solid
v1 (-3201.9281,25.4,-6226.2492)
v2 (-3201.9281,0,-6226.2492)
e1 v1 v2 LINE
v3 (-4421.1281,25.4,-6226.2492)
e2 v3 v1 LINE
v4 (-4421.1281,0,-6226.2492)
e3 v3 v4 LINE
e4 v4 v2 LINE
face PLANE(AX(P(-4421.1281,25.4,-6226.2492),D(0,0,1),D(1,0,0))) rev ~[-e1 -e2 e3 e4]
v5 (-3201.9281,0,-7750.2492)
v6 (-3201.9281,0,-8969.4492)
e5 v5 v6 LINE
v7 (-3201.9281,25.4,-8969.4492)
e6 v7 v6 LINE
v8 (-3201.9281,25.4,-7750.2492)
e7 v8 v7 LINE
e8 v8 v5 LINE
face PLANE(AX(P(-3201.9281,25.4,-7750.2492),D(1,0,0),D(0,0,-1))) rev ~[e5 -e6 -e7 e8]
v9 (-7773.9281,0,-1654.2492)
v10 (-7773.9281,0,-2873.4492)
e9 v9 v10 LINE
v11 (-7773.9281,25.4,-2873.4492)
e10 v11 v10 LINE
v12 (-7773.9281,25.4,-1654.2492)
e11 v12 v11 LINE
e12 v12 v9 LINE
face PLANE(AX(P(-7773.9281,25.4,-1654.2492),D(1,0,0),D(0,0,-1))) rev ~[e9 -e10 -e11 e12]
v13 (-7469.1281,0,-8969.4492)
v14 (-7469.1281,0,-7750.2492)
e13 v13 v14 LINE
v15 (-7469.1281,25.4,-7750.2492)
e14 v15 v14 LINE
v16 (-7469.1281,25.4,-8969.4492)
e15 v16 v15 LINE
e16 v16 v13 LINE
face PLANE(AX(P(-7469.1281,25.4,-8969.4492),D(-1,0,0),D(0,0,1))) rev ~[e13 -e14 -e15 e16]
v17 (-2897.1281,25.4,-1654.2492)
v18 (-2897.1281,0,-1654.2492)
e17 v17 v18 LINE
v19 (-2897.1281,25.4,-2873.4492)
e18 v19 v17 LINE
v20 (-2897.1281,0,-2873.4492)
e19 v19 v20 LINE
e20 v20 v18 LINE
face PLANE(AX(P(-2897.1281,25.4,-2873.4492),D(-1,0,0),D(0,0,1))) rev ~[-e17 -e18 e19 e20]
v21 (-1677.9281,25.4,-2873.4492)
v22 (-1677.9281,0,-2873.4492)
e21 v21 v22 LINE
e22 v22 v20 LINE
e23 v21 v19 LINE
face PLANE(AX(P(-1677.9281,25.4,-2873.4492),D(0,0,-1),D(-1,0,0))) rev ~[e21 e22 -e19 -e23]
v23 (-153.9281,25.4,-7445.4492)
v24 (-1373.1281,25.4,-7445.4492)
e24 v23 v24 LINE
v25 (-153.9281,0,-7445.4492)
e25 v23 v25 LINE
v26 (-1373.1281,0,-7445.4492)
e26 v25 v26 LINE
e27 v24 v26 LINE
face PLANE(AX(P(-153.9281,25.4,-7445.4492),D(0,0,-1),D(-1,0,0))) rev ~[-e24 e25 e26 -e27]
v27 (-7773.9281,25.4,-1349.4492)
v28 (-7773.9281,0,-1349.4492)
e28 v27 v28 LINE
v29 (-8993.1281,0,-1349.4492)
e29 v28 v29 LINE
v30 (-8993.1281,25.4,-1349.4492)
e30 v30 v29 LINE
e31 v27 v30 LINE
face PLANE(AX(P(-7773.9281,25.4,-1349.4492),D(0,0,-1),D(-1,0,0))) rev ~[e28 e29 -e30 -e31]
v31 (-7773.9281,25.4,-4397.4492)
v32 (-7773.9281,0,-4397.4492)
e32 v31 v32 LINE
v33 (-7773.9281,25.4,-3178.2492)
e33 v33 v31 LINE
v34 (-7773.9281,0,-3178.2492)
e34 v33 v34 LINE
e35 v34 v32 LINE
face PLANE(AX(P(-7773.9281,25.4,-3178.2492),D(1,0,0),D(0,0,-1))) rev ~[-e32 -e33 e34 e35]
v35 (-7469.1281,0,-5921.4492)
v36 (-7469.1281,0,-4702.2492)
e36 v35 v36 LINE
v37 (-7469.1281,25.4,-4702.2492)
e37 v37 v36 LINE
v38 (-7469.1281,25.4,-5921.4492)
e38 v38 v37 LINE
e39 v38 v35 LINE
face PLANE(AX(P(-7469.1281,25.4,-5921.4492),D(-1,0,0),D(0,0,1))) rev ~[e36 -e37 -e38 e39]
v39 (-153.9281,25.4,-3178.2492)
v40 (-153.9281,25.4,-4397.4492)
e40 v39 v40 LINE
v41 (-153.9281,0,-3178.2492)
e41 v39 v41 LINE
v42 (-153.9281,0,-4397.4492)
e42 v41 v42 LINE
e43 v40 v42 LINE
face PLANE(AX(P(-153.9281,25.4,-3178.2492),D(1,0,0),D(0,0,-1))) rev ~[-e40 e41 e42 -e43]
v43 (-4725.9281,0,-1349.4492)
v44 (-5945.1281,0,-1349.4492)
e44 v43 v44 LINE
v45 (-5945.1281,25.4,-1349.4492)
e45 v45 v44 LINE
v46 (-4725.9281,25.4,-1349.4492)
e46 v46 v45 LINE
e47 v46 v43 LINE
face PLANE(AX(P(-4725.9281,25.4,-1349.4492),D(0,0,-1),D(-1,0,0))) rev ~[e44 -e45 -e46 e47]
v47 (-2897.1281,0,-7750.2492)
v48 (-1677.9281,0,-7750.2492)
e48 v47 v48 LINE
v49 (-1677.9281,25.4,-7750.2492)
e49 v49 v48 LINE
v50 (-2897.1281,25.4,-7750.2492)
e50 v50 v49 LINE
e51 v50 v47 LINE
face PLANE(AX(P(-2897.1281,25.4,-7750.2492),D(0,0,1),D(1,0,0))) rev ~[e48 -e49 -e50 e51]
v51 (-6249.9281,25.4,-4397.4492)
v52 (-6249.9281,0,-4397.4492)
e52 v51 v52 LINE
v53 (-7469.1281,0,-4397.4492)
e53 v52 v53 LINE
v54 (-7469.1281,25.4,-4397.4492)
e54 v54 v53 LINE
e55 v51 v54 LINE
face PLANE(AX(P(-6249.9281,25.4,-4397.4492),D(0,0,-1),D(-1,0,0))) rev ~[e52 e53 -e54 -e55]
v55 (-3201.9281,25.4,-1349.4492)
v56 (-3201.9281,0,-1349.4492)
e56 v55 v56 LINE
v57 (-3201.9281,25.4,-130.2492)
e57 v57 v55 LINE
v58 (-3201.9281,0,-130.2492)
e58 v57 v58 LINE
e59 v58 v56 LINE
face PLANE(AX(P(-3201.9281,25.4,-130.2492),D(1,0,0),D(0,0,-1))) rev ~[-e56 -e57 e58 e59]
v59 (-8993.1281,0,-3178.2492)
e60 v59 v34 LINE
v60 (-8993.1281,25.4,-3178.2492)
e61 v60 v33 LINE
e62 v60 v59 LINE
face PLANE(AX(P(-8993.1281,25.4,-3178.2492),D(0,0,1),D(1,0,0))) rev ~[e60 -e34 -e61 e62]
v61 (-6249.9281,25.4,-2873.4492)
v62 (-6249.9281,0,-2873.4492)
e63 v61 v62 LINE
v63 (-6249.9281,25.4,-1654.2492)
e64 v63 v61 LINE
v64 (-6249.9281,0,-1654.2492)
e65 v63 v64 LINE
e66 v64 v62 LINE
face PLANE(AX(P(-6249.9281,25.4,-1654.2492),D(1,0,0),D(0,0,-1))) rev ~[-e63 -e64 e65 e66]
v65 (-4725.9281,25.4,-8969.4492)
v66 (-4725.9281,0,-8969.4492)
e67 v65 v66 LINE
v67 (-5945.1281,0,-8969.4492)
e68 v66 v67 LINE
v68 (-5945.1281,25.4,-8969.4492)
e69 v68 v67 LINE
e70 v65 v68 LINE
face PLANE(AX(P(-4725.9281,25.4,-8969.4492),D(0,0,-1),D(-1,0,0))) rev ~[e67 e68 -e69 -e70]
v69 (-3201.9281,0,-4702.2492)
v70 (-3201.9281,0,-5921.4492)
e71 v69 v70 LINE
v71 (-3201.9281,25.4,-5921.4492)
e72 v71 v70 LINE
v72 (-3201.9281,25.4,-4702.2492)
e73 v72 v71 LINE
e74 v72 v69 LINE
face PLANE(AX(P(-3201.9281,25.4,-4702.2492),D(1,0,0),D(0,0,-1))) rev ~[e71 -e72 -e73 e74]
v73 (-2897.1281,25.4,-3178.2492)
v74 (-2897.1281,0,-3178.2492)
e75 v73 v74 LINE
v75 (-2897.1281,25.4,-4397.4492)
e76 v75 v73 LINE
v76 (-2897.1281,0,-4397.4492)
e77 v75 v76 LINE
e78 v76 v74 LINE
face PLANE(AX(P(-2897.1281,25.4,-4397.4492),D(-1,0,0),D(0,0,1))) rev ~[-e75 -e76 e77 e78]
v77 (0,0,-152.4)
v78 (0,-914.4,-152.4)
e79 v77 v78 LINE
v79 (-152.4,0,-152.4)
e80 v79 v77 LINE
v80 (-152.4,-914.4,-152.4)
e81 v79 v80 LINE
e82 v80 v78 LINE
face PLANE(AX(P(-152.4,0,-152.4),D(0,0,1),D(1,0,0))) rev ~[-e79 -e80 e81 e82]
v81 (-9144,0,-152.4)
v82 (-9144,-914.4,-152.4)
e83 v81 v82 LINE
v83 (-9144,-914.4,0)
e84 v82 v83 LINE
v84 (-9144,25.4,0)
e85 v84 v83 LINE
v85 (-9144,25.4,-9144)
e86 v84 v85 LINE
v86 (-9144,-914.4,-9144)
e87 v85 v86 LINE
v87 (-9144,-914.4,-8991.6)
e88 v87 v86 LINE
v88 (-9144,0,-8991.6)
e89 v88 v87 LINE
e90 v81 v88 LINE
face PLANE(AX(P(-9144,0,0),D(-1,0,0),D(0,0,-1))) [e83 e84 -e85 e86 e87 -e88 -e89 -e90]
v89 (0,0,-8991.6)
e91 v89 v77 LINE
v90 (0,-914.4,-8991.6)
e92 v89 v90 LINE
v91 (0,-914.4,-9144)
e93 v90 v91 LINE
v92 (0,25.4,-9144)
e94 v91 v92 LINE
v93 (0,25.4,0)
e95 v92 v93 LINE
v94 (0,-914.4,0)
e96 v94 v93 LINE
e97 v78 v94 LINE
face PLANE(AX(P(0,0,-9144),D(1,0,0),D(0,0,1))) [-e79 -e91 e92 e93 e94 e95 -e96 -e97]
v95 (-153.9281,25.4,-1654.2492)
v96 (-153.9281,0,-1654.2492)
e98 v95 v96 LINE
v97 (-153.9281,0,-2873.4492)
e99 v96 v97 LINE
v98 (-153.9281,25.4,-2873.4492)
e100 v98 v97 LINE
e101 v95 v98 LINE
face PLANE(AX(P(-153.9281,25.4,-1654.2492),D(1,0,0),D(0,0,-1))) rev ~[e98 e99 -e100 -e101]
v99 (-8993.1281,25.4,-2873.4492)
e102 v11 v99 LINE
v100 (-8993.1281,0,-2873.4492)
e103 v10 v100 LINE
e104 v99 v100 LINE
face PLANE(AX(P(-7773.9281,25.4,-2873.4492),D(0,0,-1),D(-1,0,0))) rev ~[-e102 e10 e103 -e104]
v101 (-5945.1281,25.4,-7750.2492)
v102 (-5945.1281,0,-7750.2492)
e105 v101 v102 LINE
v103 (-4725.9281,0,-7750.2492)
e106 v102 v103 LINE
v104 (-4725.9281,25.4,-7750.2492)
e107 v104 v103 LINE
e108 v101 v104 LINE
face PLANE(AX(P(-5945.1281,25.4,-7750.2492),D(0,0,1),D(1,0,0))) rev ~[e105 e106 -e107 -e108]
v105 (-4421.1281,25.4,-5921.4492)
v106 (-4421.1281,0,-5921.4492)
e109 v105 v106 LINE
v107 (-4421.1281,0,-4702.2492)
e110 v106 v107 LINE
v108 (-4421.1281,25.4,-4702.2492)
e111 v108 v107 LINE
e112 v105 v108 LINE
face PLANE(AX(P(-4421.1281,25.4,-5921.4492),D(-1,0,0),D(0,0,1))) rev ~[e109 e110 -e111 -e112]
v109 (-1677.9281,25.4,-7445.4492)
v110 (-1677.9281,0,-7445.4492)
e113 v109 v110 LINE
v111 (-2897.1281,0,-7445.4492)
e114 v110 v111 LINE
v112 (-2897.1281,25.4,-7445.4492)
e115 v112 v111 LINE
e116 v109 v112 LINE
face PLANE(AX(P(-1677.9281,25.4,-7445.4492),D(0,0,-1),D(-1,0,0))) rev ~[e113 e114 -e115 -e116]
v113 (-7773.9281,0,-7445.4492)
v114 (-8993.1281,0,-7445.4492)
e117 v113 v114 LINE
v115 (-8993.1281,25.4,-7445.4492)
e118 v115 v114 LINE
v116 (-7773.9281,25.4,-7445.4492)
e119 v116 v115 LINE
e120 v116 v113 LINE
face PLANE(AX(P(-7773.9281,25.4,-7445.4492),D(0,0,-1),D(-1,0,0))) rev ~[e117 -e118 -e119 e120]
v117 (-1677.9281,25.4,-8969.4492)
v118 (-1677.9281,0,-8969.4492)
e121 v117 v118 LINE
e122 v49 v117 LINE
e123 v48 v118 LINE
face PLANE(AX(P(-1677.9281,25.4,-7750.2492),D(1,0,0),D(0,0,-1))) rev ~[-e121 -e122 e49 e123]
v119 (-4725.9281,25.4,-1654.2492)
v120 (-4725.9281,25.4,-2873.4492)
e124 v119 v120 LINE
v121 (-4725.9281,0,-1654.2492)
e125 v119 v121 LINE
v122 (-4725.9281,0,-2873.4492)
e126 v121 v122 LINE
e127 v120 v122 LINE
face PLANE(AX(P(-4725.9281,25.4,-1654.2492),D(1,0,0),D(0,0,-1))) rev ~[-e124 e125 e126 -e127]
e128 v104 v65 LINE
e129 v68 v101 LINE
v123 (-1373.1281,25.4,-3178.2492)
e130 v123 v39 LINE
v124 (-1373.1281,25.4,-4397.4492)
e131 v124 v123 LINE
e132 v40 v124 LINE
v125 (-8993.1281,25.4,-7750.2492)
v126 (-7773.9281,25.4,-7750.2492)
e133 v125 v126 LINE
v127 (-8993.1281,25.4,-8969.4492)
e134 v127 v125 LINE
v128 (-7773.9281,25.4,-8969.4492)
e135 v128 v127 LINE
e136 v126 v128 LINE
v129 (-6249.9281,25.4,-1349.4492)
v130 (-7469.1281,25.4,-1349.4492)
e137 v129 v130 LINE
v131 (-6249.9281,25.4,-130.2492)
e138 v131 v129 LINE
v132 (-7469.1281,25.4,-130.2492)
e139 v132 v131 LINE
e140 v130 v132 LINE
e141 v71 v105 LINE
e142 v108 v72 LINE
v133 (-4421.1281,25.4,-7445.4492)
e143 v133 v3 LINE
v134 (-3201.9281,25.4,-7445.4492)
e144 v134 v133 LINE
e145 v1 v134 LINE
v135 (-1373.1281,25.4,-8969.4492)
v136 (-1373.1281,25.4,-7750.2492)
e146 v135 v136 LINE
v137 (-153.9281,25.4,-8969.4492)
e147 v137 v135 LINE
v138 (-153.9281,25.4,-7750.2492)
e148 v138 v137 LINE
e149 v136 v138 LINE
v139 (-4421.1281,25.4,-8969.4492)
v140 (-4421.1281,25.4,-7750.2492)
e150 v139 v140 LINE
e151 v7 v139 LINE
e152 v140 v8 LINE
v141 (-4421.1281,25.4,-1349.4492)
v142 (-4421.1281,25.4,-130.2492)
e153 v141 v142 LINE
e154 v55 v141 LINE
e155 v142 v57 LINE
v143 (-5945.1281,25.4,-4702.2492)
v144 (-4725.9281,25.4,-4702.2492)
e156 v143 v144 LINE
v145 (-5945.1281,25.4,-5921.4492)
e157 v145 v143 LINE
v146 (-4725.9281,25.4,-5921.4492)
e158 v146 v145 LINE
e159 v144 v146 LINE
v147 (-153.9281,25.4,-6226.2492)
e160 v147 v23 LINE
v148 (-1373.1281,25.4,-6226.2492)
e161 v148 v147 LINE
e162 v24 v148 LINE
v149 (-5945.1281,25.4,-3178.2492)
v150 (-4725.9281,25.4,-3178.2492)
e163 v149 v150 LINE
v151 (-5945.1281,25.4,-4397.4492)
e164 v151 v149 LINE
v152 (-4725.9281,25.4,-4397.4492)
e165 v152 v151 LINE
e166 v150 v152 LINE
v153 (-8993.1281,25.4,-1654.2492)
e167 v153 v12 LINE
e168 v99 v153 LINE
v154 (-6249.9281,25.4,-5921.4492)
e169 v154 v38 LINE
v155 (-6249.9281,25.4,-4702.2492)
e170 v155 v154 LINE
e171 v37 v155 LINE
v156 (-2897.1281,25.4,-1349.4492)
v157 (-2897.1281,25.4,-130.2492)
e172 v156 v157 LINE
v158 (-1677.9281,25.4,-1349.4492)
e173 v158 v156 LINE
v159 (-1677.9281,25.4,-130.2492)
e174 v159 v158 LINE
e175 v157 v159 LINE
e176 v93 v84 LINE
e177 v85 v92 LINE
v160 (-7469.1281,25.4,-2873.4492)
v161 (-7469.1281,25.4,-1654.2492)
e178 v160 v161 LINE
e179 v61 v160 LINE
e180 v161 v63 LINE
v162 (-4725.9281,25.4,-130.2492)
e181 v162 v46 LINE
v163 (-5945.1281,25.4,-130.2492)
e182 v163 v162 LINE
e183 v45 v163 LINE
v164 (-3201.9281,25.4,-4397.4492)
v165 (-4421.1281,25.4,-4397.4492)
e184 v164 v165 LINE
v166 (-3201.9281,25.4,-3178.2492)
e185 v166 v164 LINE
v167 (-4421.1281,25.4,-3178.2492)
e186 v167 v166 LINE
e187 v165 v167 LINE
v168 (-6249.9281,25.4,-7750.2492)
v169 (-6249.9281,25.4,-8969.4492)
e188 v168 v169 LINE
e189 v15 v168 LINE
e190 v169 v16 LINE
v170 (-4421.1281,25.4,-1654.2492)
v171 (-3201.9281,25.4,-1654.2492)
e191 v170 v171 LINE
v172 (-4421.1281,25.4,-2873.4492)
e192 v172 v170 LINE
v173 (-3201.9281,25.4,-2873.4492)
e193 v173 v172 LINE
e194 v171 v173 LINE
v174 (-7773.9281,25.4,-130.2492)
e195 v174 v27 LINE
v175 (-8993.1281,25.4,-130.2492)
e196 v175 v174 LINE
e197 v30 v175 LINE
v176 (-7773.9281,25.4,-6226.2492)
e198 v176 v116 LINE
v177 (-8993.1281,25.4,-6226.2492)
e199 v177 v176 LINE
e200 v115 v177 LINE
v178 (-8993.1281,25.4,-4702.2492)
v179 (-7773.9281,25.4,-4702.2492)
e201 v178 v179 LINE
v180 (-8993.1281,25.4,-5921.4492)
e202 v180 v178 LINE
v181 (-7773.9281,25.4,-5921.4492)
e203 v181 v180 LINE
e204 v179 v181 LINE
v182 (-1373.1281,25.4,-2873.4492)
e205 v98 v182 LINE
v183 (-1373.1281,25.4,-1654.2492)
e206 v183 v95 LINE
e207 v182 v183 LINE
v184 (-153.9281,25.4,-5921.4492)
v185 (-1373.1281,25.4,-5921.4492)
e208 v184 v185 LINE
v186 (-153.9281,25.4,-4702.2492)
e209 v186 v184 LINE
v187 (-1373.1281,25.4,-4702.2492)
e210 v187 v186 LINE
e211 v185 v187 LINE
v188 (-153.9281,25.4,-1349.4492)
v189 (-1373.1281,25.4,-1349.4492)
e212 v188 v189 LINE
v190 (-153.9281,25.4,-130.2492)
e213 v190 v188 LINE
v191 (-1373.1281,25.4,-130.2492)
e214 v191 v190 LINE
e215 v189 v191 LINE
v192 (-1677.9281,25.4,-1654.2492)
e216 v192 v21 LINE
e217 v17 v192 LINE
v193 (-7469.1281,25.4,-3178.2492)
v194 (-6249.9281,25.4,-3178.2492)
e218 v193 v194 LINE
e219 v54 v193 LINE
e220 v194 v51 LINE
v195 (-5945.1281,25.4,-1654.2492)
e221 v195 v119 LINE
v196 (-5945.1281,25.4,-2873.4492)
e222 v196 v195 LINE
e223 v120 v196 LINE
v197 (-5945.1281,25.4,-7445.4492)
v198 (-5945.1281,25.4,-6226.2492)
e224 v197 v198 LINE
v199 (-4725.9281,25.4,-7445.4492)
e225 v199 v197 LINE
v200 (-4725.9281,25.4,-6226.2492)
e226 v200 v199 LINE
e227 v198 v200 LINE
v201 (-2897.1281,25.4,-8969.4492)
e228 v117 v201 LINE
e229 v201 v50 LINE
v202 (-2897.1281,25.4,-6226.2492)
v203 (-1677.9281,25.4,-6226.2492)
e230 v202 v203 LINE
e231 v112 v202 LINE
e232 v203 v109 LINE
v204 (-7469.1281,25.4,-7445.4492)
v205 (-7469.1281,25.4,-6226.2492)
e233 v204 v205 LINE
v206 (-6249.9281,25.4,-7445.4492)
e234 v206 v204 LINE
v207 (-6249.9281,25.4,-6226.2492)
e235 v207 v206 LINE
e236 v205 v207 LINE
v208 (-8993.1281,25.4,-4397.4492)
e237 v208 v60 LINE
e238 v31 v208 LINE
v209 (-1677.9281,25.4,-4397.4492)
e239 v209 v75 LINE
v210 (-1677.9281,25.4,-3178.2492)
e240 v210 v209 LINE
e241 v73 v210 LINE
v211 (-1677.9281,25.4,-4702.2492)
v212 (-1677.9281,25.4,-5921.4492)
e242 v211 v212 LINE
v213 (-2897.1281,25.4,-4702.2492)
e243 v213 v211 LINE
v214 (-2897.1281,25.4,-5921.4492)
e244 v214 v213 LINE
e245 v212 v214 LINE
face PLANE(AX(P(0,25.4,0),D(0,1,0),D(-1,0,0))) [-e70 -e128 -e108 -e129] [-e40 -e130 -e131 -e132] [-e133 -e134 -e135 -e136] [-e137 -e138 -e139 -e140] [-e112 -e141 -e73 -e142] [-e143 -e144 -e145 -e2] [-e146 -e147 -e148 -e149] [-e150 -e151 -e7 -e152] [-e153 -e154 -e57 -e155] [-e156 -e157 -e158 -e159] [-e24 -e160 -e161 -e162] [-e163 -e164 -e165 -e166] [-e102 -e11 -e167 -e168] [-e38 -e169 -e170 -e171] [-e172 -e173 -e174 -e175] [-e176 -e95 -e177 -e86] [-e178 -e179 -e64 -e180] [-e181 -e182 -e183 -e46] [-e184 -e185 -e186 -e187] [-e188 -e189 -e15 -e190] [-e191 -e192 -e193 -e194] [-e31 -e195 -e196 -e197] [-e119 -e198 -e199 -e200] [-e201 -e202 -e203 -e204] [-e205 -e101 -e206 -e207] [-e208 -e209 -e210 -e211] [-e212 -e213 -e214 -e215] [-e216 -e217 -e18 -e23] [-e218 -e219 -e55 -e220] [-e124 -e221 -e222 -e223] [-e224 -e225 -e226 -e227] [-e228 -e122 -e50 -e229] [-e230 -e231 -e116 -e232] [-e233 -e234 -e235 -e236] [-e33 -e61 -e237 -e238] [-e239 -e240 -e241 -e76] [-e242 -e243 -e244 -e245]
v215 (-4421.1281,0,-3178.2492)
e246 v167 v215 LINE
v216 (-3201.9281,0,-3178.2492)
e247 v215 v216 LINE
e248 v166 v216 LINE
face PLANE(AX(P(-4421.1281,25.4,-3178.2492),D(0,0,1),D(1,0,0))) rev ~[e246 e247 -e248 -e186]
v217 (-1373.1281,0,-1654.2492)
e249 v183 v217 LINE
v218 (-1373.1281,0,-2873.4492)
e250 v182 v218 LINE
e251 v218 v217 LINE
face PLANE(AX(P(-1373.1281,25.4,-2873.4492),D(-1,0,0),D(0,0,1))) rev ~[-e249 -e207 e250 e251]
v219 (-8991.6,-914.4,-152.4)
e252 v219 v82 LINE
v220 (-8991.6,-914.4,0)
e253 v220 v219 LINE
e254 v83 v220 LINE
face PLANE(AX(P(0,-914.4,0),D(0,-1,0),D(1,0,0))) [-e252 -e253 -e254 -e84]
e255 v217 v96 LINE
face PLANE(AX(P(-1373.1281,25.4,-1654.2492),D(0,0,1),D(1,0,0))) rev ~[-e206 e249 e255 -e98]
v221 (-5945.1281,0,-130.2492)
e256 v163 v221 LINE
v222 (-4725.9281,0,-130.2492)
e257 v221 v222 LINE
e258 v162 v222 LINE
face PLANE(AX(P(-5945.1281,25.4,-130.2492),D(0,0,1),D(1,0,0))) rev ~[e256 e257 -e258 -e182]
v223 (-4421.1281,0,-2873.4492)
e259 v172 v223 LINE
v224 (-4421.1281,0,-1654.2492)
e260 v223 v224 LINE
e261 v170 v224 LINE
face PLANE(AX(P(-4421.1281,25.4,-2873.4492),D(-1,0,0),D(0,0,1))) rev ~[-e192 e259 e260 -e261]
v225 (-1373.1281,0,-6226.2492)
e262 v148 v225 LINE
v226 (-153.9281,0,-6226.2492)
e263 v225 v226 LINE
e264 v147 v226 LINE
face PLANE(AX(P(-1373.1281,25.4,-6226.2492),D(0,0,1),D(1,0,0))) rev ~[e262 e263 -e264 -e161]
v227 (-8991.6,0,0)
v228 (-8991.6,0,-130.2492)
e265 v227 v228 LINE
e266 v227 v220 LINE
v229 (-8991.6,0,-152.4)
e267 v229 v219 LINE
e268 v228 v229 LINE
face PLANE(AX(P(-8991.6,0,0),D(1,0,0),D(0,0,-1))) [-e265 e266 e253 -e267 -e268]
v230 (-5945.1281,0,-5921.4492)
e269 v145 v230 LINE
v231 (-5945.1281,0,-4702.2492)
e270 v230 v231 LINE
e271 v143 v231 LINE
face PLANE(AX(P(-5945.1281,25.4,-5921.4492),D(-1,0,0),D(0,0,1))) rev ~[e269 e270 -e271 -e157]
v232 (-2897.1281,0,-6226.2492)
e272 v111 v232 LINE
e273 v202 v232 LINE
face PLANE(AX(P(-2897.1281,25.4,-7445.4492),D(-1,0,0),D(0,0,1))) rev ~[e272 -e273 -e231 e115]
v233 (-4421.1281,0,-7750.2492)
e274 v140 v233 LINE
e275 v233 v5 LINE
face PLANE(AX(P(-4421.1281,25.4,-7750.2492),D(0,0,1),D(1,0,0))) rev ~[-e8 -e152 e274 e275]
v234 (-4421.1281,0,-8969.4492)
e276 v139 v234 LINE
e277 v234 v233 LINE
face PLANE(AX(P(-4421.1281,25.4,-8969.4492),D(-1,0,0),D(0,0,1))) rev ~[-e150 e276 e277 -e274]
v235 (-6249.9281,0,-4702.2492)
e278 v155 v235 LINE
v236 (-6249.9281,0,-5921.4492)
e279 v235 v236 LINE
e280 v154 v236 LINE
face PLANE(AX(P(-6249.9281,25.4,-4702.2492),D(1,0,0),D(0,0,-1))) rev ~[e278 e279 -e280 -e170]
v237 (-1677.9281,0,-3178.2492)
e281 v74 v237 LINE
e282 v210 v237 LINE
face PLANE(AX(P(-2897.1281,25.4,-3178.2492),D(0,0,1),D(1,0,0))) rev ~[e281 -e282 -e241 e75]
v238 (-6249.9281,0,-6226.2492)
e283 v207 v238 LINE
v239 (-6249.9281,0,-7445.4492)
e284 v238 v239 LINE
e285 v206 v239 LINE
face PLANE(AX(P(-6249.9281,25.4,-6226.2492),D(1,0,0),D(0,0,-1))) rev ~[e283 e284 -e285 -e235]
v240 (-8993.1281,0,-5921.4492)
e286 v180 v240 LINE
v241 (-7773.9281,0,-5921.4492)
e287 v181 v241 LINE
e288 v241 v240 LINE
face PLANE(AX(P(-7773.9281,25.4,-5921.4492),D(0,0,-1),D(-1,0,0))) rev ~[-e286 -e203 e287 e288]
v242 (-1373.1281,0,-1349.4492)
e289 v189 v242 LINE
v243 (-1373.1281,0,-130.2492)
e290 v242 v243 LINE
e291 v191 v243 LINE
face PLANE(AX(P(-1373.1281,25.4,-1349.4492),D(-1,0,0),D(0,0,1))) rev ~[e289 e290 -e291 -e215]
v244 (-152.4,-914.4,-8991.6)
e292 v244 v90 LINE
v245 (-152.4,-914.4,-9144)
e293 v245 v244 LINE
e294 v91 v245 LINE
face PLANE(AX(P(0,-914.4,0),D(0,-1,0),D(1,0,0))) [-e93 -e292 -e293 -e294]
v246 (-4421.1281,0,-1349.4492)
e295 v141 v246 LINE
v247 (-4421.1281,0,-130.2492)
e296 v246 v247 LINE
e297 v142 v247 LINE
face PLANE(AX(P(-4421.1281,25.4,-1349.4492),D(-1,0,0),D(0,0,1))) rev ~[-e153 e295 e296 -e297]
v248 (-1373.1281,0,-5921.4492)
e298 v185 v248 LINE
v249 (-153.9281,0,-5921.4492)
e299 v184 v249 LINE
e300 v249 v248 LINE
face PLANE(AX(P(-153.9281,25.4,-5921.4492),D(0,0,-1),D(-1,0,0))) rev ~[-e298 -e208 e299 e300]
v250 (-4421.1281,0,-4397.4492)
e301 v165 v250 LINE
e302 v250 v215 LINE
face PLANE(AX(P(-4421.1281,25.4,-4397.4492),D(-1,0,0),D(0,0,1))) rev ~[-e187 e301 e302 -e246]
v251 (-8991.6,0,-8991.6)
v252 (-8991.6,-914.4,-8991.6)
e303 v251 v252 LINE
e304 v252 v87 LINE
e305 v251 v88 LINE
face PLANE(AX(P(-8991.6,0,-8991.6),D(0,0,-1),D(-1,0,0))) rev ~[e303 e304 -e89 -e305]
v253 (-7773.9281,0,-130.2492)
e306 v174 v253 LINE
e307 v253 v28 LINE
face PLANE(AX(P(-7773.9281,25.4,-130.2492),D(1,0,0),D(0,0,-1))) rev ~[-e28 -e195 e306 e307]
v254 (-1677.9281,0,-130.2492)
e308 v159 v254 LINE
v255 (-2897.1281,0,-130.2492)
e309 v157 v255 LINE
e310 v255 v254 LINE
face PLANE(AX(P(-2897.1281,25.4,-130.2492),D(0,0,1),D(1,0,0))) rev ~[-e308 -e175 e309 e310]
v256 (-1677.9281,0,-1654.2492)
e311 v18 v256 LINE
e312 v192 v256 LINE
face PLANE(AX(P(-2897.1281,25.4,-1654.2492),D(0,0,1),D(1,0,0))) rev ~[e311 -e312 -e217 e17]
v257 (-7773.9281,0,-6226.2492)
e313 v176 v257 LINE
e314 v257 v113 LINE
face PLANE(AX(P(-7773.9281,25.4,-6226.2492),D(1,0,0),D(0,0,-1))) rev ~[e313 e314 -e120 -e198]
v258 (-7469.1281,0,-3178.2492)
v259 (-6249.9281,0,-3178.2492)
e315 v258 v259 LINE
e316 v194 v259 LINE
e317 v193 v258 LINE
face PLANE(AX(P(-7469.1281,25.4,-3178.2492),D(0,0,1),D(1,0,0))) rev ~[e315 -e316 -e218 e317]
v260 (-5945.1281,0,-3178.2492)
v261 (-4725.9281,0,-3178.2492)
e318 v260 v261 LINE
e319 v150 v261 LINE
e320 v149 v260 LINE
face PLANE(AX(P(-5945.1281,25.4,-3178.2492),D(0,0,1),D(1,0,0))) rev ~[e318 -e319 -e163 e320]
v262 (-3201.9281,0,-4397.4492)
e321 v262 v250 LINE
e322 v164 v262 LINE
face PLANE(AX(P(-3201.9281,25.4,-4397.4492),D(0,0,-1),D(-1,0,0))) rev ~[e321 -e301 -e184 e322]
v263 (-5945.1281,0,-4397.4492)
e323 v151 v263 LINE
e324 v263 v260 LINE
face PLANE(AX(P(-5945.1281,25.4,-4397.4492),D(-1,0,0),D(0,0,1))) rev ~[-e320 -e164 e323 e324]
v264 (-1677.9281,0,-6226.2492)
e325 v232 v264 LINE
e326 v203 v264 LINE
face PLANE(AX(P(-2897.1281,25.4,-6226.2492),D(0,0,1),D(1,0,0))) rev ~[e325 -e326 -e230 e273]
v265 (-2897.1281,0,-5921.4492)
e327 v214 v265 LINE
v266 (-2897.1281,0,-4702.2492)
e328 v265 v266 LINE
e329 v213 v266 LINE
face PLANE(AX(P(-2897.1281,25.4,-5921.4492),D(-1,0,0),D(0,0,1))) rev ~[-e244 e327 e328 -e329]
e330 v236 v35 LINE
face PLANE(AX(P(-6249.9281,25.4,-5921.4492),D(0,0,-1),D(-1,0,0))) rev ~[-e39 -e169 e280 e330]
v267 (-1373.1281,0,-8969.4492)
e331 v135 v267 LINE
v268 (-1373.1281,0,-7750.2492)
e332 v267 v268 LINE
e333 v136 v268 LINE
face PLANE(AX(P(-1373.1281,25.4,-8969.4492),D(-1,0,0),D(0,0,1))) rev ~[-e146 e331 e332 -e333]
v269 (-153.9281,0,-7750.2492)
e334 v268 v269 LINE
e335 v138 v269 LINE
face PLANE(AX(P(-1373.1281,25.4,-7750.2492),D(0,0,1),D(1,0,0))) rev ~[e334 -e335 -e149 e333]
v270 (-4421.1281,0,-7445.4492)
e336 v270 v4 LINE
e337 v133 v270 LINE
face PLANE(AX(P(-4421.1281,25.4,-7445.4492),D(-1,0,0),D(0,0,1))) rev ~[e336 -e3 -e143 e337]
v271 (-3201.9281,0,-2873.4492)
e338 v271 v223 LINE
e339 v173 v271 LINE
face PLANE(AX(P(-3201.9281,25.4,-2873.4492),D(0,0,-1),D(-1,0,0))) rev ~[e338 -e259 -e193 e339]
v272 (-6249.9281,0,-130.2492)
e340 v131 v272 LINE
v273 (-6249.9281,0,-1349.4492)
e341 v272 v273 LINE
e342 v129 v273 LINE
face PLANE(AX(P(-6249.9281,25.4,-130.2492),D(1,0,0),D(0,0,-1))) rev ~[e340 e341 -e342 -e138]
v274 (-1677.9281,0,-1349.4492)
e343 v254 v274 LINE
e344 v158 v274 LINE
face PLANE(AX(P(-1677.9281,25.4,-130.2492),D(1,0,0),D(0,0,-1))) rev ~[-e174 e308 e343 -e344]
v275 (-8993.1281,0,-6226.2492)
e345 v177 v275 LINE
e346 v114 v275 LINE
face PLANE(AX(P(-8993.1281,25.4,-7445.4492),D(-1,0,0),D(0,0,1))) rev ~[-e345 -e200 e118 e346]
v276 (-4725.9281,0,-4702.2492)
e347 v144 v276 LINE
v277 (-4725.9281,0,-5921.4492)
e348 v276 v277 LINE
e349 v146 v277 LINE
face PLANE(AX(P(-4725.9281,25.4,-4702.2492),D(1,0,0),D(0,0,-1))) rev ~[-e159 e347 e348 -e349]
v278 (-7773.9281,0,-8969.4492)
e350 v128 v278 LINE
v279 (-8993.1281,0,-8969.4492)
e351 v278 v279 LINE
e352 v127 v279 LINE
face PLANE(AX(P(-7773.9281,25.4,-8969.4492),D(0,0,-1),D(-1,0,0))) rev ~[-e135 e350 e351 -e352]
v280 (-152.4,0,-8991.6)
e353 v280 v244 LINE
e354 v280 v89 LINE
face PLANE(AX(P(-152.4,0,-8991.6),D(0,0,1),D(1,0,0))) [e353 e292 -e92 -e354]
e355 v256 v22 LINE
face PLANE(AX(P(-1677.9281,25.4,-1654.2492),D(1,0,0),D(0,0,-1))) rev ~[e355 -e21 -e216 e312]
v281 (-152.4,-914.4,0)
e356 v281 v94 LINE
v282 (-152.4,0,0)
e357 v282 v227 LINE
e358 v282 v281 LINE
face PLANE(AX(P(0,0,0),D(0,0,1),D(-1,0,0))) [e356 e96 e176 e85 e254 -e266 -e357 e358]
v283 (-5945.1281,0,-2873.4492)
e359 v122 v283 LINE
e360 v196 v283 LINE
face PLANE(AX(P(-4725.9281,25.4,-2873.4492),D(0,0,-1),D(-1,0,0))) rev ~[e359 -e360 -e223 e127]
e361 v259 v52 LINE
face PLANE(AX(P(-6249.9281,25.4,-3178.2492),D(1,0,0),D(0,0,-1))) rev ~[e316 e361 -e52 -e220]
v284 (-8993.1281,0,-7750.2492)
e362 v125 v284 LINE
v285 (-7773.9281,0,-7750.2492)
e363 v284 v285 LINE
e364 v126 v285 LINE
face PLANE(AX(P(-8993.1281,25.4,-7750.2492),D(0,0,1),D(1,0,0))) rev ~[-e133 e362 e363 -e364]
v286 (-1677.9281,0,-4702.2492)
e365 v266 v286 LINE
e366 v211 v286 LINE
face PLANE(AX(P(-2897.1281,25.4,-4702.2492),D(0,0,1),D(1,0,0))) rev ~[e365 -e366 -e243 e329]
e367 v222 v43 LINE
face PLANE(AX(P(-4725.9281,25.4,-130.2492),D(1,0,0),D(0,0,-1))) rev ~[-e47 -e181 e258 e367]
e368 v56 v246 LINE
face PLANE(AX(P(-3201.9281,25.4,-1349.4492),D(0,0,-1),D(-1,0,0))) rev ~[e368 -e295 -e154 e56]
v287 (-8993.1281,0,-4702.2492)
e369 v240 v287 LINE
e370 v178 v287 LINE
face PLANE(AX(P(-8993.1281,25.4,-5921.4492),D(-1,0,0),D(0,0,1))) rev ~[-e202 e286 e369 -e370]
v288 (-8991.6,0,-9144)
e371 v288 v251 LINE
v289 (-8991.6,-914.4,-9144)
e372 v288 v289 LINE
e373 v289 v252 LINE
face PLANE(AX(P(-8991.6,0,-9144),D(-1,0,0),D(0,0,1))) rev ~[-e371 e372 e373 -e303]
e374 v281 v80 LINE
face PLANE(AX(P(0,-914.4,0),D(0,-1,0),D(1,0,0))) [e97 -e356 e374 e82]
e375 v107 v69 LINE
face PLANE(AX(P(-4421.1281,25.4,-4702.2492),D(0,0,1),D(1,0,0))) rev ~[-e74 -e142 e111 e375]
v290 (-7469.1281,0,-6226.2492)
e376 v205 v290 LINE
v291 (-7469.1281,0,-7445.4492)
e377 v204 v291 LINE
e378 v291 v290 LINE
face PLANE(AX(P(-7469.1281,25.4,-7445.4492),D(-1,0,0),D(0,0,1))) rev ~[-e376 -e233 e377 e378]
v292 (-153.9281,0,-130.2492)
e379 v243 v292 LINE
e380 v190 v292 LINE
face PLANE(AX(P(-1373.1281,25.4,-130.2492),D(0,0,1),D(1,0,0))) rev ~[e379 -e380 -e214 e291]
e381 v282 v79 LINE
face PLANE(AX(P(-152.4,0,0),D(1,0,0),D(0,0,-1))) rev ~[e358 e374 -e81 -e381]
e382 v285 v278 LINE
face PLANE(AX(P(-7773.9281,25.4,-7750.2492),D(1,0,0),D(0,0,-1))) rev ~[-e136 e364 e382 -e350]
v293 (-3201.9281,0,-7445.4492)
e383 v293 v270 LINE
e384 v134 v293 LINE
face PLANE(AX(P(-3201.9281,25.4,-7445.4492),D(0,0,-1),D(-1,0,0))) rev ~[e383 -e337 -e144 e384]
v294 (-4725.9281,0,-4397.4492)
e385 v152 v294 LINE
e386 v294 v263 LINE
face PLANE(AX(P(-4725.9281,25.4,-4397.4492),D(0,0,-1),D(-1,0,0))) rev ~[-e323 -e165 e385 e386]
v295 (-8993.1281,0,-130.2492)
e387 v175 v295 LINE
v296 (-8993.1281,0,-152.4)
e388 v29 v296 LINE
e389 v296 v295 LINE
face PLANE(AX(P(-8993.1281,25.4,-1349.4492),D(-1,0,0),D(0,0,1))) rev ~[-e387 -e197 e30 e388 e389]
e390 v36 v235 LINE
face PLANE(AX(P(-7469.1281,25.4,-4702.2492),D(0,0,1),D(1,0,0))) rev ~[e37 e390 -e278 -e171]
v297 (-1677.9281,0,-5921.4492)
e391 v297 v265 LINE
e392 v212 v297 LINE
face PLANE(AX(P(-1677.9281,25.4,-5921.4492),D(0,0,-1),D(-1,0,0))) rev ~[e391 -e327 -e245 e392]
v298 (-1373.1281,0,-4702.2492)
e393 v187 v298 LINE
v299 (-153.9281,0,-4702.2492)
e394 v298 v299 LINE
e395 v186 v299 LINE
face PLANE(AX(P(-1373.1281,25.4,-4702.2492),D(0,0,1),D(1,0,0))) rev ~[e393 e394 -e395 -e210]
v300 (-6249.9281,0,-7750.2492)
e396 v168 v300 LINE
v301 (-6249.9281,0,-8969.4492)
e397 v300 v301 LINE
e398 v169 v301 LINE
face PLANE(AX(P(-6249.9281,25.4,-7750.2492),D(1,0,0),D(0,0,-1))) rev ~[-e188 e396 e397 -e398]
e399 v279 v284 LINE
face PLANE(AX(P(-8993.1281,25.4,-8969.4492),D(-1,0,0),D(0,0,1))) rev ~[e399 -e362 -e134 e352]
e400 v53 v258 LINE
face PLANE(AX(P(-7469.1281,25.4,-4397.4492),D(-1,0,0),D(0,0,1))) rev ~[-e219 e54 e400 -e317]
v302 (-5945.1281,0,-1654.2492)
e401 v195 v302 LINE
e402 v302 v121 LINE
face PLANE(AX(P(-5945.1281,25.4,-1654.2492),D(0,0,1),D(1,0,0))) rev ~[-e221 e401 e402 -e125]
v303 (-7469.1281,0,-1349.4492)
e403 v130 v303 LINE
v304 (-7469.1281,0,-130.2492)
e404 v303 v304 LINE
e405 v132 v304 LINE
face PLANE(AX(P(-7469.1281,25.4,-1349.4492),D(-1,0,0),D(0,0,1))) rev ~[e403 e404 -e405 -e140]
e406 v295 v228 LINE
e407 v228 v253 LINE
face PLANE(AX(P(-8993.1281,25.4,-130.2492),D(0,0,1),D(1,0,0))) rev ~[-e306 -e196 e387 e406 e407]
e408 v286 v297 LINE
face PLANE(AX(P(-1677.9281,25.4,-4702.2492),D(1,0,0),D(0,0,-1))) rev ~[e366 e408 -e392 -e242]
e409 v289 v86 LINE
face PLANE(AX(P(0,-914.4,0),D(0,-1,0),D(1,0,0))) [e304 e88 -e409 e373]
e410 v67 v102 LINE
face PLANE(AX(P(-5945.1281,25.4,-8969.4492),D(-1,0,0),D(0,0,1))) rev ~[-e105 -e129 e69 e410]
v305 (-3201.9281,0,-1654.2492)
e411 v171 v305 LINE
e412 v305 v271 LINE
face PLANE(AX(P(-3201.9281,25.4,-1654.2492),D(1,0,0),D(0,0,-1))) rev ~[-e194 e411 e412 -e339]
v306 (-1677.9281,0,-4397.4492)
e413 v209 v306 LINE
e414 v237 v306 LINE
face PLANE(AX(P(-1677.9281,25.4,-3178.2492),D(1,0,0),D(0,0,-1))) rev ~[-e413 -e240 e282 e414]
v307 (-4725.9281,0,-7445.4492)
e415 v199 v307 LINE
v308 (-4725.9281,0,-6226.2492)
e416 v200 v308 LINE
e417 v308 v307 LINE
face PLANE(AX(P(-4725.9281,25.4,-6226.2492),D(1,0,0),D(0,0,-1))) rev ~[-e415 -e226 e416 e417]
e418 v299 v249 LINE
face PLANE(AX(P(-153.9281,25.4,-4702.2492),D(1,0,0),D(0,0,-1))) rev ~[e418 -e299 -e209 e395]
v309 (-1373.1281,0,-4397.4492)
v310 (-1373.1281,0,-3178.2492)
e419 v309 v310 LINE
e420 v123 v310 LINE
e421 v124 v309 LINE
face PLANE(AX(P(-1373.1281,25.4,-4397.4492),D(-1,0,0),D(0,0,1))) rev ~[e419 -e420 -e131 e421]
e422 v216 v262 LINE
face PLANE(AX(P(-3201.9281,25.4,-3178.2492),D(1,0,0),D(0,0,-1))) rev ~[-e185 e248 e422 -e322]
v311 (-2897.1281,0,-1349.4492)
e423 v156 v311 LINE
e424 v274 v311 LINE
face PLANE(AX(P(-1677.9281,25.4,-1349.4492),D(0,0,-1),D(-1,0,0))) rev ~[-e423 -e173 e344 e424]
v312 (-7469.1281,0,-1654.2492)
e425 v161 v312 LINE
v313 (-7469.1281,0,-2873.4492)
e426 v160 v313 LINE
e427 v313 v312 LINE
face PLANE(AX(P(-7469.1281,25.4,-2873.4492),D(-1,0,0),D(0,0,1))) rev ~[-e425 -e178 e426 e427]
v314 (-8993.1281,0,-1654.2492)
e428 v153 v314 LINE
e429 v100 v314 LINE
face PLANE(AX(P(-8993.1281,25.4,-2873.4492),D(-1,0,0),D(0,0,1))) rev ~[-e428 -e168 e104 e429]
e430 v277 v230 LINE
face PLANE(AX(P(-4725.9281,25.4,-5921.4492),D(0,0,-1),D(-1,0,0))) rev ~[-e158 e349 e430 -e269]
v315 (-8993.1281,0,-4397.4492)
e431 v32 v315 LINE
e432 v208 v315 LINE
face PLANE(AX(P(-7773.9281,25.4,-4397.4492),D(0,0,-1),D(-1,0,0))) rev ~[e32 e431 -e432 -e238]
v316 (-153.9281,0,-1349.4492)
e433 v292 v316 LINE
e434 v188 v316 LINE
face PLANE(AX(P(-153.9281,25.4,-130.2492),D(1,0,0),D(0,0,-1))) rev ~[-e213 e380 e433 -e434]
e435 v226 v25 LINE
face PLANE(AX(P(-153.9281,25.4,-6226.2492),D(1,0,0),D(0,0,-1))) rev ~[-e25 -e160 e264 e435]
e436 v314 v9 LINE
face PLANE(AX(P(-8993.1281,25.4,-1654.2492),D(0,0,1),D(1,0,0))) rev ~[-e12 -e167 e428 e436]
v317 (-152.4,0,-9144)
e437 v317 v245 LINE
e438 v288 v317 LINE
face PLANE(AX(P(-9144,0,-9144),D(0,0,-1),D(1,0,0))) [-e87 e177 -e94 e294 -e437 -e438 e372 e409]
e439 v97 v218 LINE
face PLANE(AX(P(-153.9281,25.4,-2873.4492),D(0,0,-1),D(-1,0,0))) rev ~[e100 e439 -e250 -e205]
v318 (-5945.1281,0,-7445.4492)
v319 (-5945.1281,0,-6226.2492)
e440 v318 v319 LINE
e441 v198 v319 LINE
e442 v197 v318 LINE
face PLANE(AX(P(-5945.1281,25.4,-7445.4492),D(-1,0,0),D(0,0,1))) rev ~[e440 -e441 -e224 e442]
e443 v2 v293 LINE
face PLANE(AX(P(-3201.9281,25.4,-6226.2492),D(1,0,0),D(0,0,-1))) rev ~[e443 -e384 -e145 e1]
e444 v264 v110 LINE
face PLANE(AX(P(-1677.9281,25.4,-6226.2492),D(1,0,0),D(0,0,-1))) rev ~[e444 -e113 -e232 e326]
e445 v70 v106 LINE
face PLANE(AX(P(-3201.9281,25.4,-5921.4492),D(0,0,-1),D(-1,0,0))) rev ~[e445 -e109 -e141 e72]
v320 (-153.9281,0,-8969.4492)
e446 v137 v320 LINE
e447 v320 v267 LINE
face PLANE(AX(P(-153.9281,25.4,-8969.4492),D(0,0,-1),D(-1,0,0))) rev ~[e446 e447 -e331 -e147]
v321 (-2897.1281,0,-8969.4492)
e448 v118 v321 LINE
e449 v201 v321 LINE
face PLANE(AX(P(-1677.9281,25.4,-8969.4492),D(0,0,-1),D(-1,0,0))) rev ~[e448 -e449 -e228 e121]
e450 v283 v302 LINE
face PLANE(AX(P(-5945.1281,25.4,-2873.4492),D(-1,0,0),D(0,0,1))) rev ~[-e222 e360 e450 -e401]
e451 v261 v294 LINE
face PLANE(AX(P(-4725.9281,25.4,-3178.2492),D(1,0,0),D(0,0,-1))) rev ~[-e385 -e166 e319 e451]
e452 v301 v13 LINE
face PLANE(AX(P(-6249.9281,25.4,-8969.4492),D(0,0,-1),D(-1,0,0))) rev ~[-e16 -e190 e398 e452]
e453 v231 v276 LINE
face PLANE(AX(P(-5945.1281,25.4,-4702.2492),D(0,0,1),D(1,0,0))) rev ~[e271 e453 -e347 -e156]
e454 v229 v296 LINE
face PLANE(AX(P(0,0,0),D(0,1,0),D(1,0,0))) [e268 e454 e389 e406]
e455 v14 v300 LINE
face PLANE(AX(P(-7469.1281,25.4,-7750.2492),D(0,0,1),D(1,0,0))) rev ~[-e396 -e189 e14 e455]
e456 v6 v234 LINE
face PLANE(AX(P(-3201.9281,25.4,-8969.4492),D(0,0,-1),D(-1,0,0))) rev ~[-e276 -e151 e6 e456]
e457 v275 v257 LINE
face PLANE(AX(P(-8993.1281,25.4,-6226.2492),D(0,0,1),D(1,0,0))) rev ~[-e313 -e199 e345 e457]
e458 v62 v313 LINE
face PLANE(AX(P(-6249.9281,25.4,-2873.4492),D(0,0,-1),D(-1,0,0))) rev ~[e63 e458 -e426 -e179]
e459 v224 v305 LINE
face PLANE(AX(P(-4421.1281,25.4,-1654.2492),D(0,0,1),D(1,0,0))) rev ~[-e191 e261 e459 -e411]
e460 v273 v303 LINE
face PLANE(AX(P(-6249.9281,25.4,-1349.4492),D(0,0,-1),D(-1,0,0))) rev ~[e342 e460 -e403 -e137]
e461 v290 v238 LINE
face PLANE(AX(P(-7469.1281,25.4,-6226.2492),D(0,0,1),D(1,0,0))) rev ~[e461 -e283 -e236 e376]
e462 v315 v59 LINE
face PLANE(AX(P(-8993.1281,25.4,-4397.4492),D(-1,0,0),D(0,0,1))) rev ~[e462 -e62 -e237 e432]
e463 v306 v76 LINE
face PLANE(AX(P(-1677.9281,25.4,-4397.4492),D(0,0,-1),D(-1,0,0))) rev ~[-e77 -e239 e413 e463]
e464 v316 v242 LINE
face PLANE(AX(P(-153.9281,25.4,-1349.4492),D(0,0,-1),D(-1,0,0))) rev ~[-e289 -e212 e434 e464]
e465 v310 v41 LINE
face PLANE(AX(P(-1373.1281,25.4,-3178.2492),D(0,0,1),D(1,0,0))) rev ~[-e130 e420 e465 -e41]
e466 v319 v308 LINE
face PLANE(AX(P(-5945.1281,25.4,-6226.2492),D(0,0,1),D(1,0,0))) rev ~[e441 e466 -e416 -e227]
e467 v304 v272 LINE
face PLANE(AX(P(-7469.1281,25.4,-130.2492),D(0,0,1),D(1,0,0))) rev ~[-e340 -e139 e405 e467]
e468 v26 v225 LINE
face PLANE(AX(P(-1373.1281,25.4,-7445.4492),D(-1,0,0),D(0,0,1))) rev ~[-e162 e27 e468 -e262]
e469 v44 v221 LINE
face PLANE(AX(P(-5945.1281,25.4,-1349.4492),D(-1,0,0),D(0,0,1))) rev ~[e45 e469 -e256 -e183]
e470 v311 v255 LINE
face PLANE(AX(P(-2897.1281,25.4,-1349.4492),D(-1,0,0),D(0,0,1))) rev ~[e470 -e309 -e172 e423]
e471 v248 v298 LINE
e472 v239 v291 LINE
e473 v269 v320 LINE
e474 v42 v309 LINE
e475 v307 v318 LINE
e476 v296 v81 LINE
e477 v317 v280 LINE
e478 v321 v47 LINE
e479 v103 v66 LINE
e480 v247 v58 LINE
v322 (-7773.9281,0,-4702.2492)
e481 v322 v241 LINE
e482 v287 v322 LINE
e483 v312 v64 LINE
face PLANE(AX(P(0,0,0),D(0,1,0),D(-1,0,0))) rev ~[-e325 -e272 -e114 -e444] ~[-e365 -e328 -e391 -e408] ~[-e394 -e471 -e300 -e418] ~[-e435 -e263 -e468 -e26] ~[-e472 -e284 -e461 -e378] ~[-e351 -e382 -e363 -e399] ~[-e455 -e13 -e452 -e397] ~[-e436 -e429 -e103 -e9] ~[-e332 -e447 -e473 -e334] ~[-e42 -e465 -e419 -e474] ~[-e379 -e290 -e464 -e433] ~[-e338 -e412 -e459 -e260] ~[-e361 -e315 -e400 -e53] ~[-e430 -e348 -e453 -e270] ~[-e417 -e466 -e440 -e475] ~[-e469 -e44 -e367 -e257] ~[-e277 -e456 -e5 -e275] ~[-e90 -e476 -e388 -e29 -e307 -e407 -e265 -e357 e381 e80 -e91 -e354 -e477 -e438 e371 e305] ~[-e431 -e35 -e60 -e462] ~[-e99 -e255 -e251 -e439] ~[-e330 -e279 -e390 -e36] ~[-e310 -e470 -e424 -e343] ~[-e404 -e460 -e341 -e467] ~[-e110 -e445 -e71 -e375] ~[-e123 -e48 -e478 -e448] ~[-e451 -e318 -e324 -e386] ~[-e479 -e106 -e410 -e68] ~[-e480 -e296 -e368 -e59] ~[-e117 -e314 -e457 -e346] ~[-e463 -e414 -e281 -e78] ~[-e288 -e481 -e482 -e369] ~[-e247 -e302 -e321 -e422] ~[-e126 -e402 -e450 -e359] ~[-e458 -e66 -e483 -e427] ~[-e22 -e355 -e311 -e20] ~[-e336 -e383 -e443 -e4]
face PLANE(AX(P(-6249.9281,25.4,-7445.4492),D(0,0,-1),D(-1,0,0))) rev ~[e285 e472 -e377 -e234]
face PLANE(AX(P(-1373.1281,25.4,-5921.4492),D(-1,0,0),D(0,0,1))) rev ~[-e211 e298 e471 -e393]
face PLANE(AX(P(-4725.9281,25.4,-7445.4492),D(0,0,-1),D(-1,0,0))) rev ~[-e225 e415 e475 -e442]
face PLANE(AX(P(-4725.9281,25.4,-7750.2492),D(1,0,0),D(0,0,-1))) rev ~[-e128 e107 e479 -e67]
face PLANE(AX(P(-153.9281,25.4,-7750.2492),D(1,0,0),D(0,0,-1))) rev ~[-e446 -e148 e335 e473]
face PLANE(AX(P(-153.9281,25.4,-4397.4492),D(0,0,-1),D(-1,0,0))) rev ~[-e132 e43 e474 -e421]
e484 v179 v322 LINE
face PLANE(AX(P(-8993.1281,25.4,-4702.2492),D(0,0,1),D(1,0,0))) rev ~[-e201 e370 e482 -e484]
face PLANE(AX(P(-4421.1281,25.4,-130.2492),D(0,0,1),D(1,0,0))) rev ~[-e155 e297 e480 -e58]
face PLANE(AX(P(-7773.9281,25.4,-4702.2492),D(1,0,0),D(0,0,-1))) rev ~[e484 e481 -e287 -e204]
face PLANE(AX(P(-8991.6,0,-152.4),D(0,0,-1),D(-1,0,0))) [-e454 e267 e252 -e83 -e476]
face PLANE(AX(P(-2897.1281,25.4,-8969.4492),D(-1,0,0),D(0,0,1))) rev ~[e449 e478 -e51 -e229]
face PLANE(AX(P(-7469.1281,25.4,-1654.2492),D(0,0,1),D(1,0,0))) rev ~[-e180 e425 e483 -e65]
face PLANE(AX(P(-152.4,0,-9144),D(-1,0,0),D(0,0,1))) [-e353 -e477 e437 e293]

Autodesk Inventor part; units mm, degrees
ref_plane "YZ Plane" through (0, 0, 0) normal (1, 0, 0) x (0, 1, 0)
ref_plane "XZ Plane" through (0, 0, 0) normal (0, 1, 0) x (-1, 0, 0)
ref_plane "XY Plane" through (0, 0, 0) normal (0, 0, 1) x (1, 0, 0)
sketch "Sketch1" plane through (0, 0, 0) normal (0, 1, 0) x (-1, 0, 0)
  line L0 (0, 0) -> (9144, 0)
  line L1 (9144, 0) -> (9144, -9144)
  line L2 (9144, -9144) -> (0, -9144)
  line L3 (0, -9144) -> (0, 0)
  dimension "d0" = 9144
  dimension "d1" = 9144
extrude "Extrusion1" add sketch "Sketch1" along normal blind 25.4
sketch "Sketch2" plane through (0, 0, 0) normal (0, -1, 0) x (1, 0, 0)
  line L0 (-9144, 0) -> (0, 0) projected
  line L1 (0, 0) -> (-152.4, 0)
  line L2 (-152.4, 0) -> (-152.4, -152.4)
  line L3 (-152.4, -152.4) -> (0, -152.4)
  line L4 (0, -152.4) -> (0, 0)
  line L5 (0, 0) -> (0, -9144) projected
  line L6 (0, -9144) -> (-152.4, -9144)
  line L7 (-152.4, -9144) -> (-152.4, -8991.6)
  line L8 (-152.4, -8991.6) -> (0, -8991.6)
  line L9 (0, -8991.6) -> (0, -9144)
  line L10 (0, -9144) -> (-9144, -9144) projected
  line L11 (-9144, -9144) -> (-8991.6, -9144)
  line L12 (-8991.6, -9144) -> (-8991.6, -8991.6)
  line L13 (-8991.6, -8991.6) -> (-9144, -8991.6)
  line L14 (-9144, -8991.6) -> (-9144, -9144)
  line L15 (-9144, 0) -> (-8991.6, 0)
  line L16 (-8991.6, 0) -> (-8991.6, -152.4)
  line L17 (-8991.6, -152.4) -> (-9144, -152.4)
  line L18 (-9144, -152.4) -> (-9144, 0)
  line L19 (-152.4, -152.4) -> (-8991.6, -152.4) construction
  line L20 (-8991.6, -152.4) -> (-8991.6, -8991.6) construction
  line L21 (-8991.6, -8991.6) -> (-152.4, -8991.6) construction
  line L22 (-152.4, -8991.6) -> (-152.4, -152.4) construction
  line L23 (-9144, 0) -> (-9144, -9144) construction
  point P0 (-4572, -4572)
  dimension "d4" = 152.4
  dimension "d5" = 152.4
  dimension "d6" = 152.4
  dimension "d7" = 152.4
extrude "Extrusion2" add sketch "Sketch2" along normal blind 914.4
sketch "Sketch3" plane through (0, 25.4, 0) normal (0, 1, 0) x (1, 0, 0)
  line L0 (-8993.1281, 130.2492) -> (-7773.9281, 130.2492)
  line L1 (-7773.9281, 130.2492) -> (-7773.9281, 1349.4492)
  line L2 (-7773.9281, 1349.4492) -> (-8993.1281, 1349.4492)
  line L3 (-8993.1281, 1349.4492) -> (-8993.1281, 130.2492)
  line L4 (-7469.1281, 130.2492) -> (-6249.9281, 130.2492)
  line L5 (-6249.9281, 130.2492) -> (-6249.9281, 1349.4492)
  line L6 (-6249.9281, 1349.4492) -> (-7469.1281, 1349.4492)
  line L7 (-7469.1281, 1349.4492) -> (-7469.1281, 130.2492)
  line L8 (-5945.1281, 130.2492) -> (-4725.9281, 130.2492)
  line L9 (-4725.9281, 130.2492) -> (-4725.9281, 1349.4492)
  line L10 (-4725.9281, 1349.4492) -> (-5945.1281, 1349.4492)
  line L11 (-5945.1281, 1349.4492) -> (-5945.1281, 130.2492)
  line L12 (-4421.1281, 130.2492) -> (-3201.9281, 130.2492)
  line L13 (-3201.9281, 130.2492) -> (-3201.9281, 1349.4492)
  line L14 (-3201.9281, 1349.4492) -> (-4421.1281, 1349.4492)
  line L15 (-4421.1281, 1349.4492) -> (-4421.1281, 130.2492)
  line L16 (-2897.1281, 130.2492) -> (-1677.9281, 130.2492)
  line L17 (-1677.9281, 130.2492) -> (-1677.9281, 1349.4492)
  line L18 (-1677.9281, 1349.4492) -> (-2897.1281, 1349.4492)
  line L19 (-2897.1281, 1349.4492) -> (-2897.1281, 130.2492)
  line L20 (-1373.1281, 130.2492) -> (-153.9281, 130.2492)
  line L21 (-153.9281, 130.2492) -> (-153.9281, 1349.4492)
  line L22 (-153.9281, 1349.4492) -> (-1373.1281, 1349.4492)
  line L23 (-1373.1281, 1349.4492) -> (-1373.1281, 130.2492)
  line L24 (-8993.1281, 1654.2492) -> (-7773.9281, 1654.2492)
  line L25 (-7773.9281, 1654.2492) -> (-7773.9281, 2873.4492)
  line L26 (-7773.9281, 2873.4492) -> (-8993.1281, 2873.4492)
  line L27 (-8993.1281, 2873.4492) -> (-8993.1281, 1654.2492)
  line L28 (-7469.1281, 1654.2492) -> (-6249.9281, 1654.2492)
  line L29 (-6249.9281, 1654.2492) -> (-6249.9281, 2873.4492)
  line L30 (-6249.9281, 2873.4492) -> (-7469.1281, 2873.4492)
  line L31 (-7469.1281, 2873.4492) -> (-7469.1281, 1654.2492)
  line L32 (-5945.1281, 1654.2492) -> (-4725.9281, 1654.2492)
  line L33 (-4725.9281, 1654.2492) -> (-4725.9281, 2873.4492)
  line L34 (-4725.9281, 2873.4492) -> (-5945.1281, 2873.4492)
  line L35 (-5945.1281, 2873.4492) -> (-5945.1281, 1654.2492)
  line L36 (-4421.1281, 1654.2492) -> (-3201.9281, 1654.2492)
  line L37 (-3201.9281, 1654.2492) -> (-3201.9281, 2873.4492)
  line L38 (-3201.9281, 2873.4492) -> (-4421.1281, 2873.4492)
  line L39 (-4421.1281, 2873.4492) -> (-4421.1281, 1654.2492)
  line L40 (-2897.1281, 1654.2492) -> (-1677.9281, 1654.2492)
  line L41 (-1677.9281, 1654.2492) -> (-1677.9281, 2873.4492)
  line L42 (-1677.9281, 2873.4492) -> (-2897.1281, 2873.4492)
  line L43 (-2897.1281, 2873.4492) -> (-2897.1281, 1654.2492)
  line L44 (-1373.1281, 1654.2492) -> (-153.9281, 1654.2492)
  line L45 (-153.9281, 1654.2492) -> (-153.9281, 2873.4492)
  line L46 (-153.9281, 2873.4492) -> (-1373.1281, 2873.4492)
  line L47 (-1373.1281, 2873.4492) -> (-1373.1281, 1654.2492)
  line L48 (-8993.1281, 3178.2492) -> (-7773.9281, 3178.2492)
  line L49 (-7773.9281, 3178.2492) -> (-7773.9281, 4397.4492)
  line L50 (-7773.9281, 4397.4492) -> (-8993.1281, 4397.4492)
  line L51 (-8993.1281, 4397.4492) -> (-8993.1281, 3178.2492)
  line L52 (-7469.1281, 3178.2492) -> (-6249.9281, 3178.2492)
  line L53 (-6249.9281, 3178.2492) -> (-6249.9281, 4397.4492)
  line L54 (-6249.9281, 4397.4492) -> (-7469.1281, 4397.4492)
  line L55 (-7469.1281, 4397.4492) -> (-7469.1281, 3178.2492)
  line L56 (-5945.1281, 3178.2492) -> (-4725.9281, 3178.2492)
  line L57 (-4725.9281, 3178.2492) -> (-4725.9281, 4397.4492)
  line L58 (-4725.9281, 4397.4492) -> (-5945.1281, 4397.4492)
  line L59 (-5945.1281, 4397.4492) -> (-5945.1281, 3178.2492)
  line L60 (-4421.1281, 3178.2492) -> (-3201.9281, 3178.2492)
  line L61 (-3201.9281, 3178.2492) -> (-3201.9281, 4397.4492)
  line L62 (-3201.9281, 4397.4492) -> (-4421.1281, 4397.4492)
  line L63 (-4421.1281, 4397.4492) -> (-4421.1281, 3178.2492)
  line L64 (-2897.1281, 3178.2492) -> (-1677.9281, 3178.2492)
  line L65 (-1677.9281, 3178.2492) -> (-1677.9281, 4397.4492)
  line L66 (-1677.9281, 4397.4492) -> (-2897.1281, 4397.4492)
  line L67 (-2897.1281, 4397.4492) -> (-2897.1281, 3178.2492)
  line L68 (-1373.1281, 3178.2492) -> (-153.9281, 3178.2492)
  line L69 (-153.9281, 3178.2492) -> (-153.9281, 4397.4492)
  line L70 (-153.9281, 4397.4492) -> (-1373.1281, 4397.4492)
  line L71 (-1373.1281, 4397.4492) -> (-1373.1281, 3178.2492)
  line L72 (-8993.1281, 4702.2492) -> (-7773.9281, 4702.2492)
  line L73 (-7773.9281, 4702.2492) -> (-7773.9281, 5921.4492)
  line L74 (-7773.9281, 5921.4492) -> (-8993.1281, 5921.4492)
  line L75 (-8993.1281, 5921.4492) -> (-8993.1281, 4702.2492)
  line L76 (-7469.1281, 4702.2492) -> (-6249.9281, 4702.2492)
  line L77 (-6249.9281, 4702.2492) -> (-6249.9281, 5921.4492)
  line L78 (-6249.9281, 5921.4492) -> (-7469.1281, 5921.4492)
  line L79 (-7469.1281, 5921.4492) -> (-7469.1281, 4702.2492)
  line L80 (-5945.1281, 4702.2492) -> (-4725.9281, 4702.2492)
  line L81 (-4725.9281, 4702.2492) -> (-4725.9281, 5921.4492)
  line L82 (-4725.9281, 5921.4492) -> (-5945.1281, 5921.4492)
  line L83 (-5945.1281, 5921.4492) -> (-5945.1281, 4702.2492)
  line L84 (-4421.1281, 4702.2492) -> (-3201.9281, 4702.2492)
  line L85 (-3201.9281, 4702.2492) -> (-3201.9281, 5921.4492)
  line L86 (-3201.9281, 5921.4492) -> (-4421.1281, 5921.4492)
  line L87 (-4421.1281, 5921.4492) -> (-4421.1281, 4702.2492)
  line L88 (-2897.1281, 4702.2492) -> (-1677.9281, 4702.2492)
  line L89 (-1677.9281, 4702.2492) -> (-1677.9281, 5921.4492)
  line L90 (-1677.9281, 5921.4492) -> (-2897.1281, 5921.4492)
  line L91 (-2897.1281, 5921.4492) -> (-2897.1281, 4702.2492)
  line L92 (-1373.1281, 4702.2492) -> (-153.9281, 4702.2492)
  line L93 (-153.9281, 4702.2492) -> (-153.9281, 5921.4492)
  line L94 (-153.9281, 5921.4492) -> (-1373.1281, 5921.4492)
  line L95 (-1373.1281, 5921.4492) -> (-1373.1281, 4702.2492)
  line L96 (-8993.1281, 6226.2492) -> (-7773.9281, 6226.2492)
  line L97 (-7773.9281, 6226.2492) -> (-7773.9281, 7445.4492)
  line L98 (-7773.9281, 7445.4492) -> (-8993.1281, 7445.4492)
  line L99 (-8993.1281, 7445.4492) -> (-8993.1281, 6226.2492)
  line L100 (-7469.1281, 6226.2492) -> (-6249.9281, 6226.2492)
  line L101 (-6249.9281, 6226.2492) -> (-6249.9281, 7445.4492)
  line L102 (-6249.9281, 7445.4492) -> (-7469.1281, 7445.4492)
  line L103 (-7469.1281, 7445.4492) -> (-7469.1281, 6226.2492)
  line L104 (-5945.1281, 6226.2492) -> (-4725.9281, 6226.2492)
  line L105 (-4725.9281, 6226.2492) -> (-4725.9281, 7445.4492)
  line L106 (-4725.9281, 7445.4492) -> (-5945.1281, 7445.4492)
  line L107 (-5945.1281, 7445.4492) -> (-5945.1281, 6226.2492)
  line L108 (-4421.1281, 6226.2492) -> (-3201.9281, 6226.2492)
  line L109 (-3201.9281, 6226.2492) -> (-3201.9281, 7445.4492)
  line L110 (-3201.9281, 7445.4492) -> (-4421.1281, 7445.4492)
  line L111 (-4421.1281, 7445.4492) -> (-4421.1281, 6226.2492)
  line L112 (-2897.1281, 6226.2492) -> (-1677.9281, 6226.2492)
  line L113 (-1677.9281, 6226.2492) -> (-1677.9281, 7445.4492)
  line L114 (-1677.9281, 7445.4492) -> (-2897.1281, 7445.4492)
  line L115 (-2897.1281, 7445.4492) -> (-2897.1281, 6226.2492)
  line L116 (-1373.1281, 6226.2492) -> (-153.9281, 6226.2492)
  line L117 (-153.9281, 6226.2492) -> (-153.9281, 7445.4492)
  line L118 (-153.9281, 7445.4492) -> (-1373.1281, 7445.4492)
  line L119 (-1373.1281, 7445.4492) -> (-1373.1281, 6226.2492)
  line L120 (-8993.1281, 7750.2492) -> (-7773.9281, 7750.2492)
  line L121 (-7773.9281, 7750.2492) -> (-7773.9281, 8969.4492)
  line L122 (-7773.9281, 8969.4492) -> (-8993.1281, 8969.4492)
  line L123 (-8993.1281, 8969.4492) -> (-8993.1281, 7750.2492)
  line L124 (-7469.1281, 7750.2492) -> (-6249.9281, 7750.2492)
  line L125 (-6249.9281, 7750.2492) -> (-6249.9281, 8969.4492)
  line L126 (-6249.9281, 8969.4492) -> (-7469.1281, 8969.4492)
  line L127 (-7469.1281, 8969.4492) -> (-7469.1281, 7750.2492)
  line L128 (-5945.1281, 7750.2492) -> (-4725.9281, 7750.2492)
  line L129 (-4725.9281, 7750.2492) -> (-4725.9281, 8969.4492)
  line L130 (-4725.9281, 8969.4492) -> (-5945.1281, 8969.4492)
  line L131 (-5945.1281, 8969.4492) -> (-5945.1281, 7750.2492)
  line L132 (-4421.1281, 7750.2492) -> (-3201.9281, 7750.2492)
  line L133 (-3201.9281, 7750.2492) -> (-3201.9281, 8969.4492)
  line L134 (-3201.9281, 8969.4492) -> (-4421.1281, 8969.4492)
  line L135 (-4421.1281, 8969.4492) -> (-4421.1281, 7750.2492)
  line L136 (-2897.1281, 7750.2492) -> (-1677.9281, 7750.2492)
  line L137 (-1677.9281, 7750.2492) -> (-1677.9281, 8969.4492)
  line L138 (-1677.9281, 8969.4492) -> (-2897.1281, 8969.4492)
  line L139 (-2897.1281, 8969.4492) -> (-2897.1281, 7750.2492)
  line L140 (-1373.1281, 7750.2492) -> (-153.9281, 7750.2492)
  line L141 (-153.9281, 7750.2492) -> (-153.9281, 8969.4492)
  line L142 (-153.9281, 8969.4492) -> (-1373.1281, 8969.4492)
  line L143 (-1373.1281, 8969.4492) -> (-1373.1281, 7750.2492)
  point P0 (0, 0)
  dimension "d10" = 1219.2
  dimension "d11" = 1219.2
  dimension "d14" = 1524
  dimension "d17" = 1524
extrude "Extrusion3" cut sketch "Sketch3" against normal up to surface (25.4 mm away)
equation "\"d1\" = d0"
equation "\"d5\" = d4"
equation "\"d6\" = d4"
equation "\"d7\" = d6"
equation "\"d11\" = d10"
properties part number "2ft stand" material "Wood (Oak)"
